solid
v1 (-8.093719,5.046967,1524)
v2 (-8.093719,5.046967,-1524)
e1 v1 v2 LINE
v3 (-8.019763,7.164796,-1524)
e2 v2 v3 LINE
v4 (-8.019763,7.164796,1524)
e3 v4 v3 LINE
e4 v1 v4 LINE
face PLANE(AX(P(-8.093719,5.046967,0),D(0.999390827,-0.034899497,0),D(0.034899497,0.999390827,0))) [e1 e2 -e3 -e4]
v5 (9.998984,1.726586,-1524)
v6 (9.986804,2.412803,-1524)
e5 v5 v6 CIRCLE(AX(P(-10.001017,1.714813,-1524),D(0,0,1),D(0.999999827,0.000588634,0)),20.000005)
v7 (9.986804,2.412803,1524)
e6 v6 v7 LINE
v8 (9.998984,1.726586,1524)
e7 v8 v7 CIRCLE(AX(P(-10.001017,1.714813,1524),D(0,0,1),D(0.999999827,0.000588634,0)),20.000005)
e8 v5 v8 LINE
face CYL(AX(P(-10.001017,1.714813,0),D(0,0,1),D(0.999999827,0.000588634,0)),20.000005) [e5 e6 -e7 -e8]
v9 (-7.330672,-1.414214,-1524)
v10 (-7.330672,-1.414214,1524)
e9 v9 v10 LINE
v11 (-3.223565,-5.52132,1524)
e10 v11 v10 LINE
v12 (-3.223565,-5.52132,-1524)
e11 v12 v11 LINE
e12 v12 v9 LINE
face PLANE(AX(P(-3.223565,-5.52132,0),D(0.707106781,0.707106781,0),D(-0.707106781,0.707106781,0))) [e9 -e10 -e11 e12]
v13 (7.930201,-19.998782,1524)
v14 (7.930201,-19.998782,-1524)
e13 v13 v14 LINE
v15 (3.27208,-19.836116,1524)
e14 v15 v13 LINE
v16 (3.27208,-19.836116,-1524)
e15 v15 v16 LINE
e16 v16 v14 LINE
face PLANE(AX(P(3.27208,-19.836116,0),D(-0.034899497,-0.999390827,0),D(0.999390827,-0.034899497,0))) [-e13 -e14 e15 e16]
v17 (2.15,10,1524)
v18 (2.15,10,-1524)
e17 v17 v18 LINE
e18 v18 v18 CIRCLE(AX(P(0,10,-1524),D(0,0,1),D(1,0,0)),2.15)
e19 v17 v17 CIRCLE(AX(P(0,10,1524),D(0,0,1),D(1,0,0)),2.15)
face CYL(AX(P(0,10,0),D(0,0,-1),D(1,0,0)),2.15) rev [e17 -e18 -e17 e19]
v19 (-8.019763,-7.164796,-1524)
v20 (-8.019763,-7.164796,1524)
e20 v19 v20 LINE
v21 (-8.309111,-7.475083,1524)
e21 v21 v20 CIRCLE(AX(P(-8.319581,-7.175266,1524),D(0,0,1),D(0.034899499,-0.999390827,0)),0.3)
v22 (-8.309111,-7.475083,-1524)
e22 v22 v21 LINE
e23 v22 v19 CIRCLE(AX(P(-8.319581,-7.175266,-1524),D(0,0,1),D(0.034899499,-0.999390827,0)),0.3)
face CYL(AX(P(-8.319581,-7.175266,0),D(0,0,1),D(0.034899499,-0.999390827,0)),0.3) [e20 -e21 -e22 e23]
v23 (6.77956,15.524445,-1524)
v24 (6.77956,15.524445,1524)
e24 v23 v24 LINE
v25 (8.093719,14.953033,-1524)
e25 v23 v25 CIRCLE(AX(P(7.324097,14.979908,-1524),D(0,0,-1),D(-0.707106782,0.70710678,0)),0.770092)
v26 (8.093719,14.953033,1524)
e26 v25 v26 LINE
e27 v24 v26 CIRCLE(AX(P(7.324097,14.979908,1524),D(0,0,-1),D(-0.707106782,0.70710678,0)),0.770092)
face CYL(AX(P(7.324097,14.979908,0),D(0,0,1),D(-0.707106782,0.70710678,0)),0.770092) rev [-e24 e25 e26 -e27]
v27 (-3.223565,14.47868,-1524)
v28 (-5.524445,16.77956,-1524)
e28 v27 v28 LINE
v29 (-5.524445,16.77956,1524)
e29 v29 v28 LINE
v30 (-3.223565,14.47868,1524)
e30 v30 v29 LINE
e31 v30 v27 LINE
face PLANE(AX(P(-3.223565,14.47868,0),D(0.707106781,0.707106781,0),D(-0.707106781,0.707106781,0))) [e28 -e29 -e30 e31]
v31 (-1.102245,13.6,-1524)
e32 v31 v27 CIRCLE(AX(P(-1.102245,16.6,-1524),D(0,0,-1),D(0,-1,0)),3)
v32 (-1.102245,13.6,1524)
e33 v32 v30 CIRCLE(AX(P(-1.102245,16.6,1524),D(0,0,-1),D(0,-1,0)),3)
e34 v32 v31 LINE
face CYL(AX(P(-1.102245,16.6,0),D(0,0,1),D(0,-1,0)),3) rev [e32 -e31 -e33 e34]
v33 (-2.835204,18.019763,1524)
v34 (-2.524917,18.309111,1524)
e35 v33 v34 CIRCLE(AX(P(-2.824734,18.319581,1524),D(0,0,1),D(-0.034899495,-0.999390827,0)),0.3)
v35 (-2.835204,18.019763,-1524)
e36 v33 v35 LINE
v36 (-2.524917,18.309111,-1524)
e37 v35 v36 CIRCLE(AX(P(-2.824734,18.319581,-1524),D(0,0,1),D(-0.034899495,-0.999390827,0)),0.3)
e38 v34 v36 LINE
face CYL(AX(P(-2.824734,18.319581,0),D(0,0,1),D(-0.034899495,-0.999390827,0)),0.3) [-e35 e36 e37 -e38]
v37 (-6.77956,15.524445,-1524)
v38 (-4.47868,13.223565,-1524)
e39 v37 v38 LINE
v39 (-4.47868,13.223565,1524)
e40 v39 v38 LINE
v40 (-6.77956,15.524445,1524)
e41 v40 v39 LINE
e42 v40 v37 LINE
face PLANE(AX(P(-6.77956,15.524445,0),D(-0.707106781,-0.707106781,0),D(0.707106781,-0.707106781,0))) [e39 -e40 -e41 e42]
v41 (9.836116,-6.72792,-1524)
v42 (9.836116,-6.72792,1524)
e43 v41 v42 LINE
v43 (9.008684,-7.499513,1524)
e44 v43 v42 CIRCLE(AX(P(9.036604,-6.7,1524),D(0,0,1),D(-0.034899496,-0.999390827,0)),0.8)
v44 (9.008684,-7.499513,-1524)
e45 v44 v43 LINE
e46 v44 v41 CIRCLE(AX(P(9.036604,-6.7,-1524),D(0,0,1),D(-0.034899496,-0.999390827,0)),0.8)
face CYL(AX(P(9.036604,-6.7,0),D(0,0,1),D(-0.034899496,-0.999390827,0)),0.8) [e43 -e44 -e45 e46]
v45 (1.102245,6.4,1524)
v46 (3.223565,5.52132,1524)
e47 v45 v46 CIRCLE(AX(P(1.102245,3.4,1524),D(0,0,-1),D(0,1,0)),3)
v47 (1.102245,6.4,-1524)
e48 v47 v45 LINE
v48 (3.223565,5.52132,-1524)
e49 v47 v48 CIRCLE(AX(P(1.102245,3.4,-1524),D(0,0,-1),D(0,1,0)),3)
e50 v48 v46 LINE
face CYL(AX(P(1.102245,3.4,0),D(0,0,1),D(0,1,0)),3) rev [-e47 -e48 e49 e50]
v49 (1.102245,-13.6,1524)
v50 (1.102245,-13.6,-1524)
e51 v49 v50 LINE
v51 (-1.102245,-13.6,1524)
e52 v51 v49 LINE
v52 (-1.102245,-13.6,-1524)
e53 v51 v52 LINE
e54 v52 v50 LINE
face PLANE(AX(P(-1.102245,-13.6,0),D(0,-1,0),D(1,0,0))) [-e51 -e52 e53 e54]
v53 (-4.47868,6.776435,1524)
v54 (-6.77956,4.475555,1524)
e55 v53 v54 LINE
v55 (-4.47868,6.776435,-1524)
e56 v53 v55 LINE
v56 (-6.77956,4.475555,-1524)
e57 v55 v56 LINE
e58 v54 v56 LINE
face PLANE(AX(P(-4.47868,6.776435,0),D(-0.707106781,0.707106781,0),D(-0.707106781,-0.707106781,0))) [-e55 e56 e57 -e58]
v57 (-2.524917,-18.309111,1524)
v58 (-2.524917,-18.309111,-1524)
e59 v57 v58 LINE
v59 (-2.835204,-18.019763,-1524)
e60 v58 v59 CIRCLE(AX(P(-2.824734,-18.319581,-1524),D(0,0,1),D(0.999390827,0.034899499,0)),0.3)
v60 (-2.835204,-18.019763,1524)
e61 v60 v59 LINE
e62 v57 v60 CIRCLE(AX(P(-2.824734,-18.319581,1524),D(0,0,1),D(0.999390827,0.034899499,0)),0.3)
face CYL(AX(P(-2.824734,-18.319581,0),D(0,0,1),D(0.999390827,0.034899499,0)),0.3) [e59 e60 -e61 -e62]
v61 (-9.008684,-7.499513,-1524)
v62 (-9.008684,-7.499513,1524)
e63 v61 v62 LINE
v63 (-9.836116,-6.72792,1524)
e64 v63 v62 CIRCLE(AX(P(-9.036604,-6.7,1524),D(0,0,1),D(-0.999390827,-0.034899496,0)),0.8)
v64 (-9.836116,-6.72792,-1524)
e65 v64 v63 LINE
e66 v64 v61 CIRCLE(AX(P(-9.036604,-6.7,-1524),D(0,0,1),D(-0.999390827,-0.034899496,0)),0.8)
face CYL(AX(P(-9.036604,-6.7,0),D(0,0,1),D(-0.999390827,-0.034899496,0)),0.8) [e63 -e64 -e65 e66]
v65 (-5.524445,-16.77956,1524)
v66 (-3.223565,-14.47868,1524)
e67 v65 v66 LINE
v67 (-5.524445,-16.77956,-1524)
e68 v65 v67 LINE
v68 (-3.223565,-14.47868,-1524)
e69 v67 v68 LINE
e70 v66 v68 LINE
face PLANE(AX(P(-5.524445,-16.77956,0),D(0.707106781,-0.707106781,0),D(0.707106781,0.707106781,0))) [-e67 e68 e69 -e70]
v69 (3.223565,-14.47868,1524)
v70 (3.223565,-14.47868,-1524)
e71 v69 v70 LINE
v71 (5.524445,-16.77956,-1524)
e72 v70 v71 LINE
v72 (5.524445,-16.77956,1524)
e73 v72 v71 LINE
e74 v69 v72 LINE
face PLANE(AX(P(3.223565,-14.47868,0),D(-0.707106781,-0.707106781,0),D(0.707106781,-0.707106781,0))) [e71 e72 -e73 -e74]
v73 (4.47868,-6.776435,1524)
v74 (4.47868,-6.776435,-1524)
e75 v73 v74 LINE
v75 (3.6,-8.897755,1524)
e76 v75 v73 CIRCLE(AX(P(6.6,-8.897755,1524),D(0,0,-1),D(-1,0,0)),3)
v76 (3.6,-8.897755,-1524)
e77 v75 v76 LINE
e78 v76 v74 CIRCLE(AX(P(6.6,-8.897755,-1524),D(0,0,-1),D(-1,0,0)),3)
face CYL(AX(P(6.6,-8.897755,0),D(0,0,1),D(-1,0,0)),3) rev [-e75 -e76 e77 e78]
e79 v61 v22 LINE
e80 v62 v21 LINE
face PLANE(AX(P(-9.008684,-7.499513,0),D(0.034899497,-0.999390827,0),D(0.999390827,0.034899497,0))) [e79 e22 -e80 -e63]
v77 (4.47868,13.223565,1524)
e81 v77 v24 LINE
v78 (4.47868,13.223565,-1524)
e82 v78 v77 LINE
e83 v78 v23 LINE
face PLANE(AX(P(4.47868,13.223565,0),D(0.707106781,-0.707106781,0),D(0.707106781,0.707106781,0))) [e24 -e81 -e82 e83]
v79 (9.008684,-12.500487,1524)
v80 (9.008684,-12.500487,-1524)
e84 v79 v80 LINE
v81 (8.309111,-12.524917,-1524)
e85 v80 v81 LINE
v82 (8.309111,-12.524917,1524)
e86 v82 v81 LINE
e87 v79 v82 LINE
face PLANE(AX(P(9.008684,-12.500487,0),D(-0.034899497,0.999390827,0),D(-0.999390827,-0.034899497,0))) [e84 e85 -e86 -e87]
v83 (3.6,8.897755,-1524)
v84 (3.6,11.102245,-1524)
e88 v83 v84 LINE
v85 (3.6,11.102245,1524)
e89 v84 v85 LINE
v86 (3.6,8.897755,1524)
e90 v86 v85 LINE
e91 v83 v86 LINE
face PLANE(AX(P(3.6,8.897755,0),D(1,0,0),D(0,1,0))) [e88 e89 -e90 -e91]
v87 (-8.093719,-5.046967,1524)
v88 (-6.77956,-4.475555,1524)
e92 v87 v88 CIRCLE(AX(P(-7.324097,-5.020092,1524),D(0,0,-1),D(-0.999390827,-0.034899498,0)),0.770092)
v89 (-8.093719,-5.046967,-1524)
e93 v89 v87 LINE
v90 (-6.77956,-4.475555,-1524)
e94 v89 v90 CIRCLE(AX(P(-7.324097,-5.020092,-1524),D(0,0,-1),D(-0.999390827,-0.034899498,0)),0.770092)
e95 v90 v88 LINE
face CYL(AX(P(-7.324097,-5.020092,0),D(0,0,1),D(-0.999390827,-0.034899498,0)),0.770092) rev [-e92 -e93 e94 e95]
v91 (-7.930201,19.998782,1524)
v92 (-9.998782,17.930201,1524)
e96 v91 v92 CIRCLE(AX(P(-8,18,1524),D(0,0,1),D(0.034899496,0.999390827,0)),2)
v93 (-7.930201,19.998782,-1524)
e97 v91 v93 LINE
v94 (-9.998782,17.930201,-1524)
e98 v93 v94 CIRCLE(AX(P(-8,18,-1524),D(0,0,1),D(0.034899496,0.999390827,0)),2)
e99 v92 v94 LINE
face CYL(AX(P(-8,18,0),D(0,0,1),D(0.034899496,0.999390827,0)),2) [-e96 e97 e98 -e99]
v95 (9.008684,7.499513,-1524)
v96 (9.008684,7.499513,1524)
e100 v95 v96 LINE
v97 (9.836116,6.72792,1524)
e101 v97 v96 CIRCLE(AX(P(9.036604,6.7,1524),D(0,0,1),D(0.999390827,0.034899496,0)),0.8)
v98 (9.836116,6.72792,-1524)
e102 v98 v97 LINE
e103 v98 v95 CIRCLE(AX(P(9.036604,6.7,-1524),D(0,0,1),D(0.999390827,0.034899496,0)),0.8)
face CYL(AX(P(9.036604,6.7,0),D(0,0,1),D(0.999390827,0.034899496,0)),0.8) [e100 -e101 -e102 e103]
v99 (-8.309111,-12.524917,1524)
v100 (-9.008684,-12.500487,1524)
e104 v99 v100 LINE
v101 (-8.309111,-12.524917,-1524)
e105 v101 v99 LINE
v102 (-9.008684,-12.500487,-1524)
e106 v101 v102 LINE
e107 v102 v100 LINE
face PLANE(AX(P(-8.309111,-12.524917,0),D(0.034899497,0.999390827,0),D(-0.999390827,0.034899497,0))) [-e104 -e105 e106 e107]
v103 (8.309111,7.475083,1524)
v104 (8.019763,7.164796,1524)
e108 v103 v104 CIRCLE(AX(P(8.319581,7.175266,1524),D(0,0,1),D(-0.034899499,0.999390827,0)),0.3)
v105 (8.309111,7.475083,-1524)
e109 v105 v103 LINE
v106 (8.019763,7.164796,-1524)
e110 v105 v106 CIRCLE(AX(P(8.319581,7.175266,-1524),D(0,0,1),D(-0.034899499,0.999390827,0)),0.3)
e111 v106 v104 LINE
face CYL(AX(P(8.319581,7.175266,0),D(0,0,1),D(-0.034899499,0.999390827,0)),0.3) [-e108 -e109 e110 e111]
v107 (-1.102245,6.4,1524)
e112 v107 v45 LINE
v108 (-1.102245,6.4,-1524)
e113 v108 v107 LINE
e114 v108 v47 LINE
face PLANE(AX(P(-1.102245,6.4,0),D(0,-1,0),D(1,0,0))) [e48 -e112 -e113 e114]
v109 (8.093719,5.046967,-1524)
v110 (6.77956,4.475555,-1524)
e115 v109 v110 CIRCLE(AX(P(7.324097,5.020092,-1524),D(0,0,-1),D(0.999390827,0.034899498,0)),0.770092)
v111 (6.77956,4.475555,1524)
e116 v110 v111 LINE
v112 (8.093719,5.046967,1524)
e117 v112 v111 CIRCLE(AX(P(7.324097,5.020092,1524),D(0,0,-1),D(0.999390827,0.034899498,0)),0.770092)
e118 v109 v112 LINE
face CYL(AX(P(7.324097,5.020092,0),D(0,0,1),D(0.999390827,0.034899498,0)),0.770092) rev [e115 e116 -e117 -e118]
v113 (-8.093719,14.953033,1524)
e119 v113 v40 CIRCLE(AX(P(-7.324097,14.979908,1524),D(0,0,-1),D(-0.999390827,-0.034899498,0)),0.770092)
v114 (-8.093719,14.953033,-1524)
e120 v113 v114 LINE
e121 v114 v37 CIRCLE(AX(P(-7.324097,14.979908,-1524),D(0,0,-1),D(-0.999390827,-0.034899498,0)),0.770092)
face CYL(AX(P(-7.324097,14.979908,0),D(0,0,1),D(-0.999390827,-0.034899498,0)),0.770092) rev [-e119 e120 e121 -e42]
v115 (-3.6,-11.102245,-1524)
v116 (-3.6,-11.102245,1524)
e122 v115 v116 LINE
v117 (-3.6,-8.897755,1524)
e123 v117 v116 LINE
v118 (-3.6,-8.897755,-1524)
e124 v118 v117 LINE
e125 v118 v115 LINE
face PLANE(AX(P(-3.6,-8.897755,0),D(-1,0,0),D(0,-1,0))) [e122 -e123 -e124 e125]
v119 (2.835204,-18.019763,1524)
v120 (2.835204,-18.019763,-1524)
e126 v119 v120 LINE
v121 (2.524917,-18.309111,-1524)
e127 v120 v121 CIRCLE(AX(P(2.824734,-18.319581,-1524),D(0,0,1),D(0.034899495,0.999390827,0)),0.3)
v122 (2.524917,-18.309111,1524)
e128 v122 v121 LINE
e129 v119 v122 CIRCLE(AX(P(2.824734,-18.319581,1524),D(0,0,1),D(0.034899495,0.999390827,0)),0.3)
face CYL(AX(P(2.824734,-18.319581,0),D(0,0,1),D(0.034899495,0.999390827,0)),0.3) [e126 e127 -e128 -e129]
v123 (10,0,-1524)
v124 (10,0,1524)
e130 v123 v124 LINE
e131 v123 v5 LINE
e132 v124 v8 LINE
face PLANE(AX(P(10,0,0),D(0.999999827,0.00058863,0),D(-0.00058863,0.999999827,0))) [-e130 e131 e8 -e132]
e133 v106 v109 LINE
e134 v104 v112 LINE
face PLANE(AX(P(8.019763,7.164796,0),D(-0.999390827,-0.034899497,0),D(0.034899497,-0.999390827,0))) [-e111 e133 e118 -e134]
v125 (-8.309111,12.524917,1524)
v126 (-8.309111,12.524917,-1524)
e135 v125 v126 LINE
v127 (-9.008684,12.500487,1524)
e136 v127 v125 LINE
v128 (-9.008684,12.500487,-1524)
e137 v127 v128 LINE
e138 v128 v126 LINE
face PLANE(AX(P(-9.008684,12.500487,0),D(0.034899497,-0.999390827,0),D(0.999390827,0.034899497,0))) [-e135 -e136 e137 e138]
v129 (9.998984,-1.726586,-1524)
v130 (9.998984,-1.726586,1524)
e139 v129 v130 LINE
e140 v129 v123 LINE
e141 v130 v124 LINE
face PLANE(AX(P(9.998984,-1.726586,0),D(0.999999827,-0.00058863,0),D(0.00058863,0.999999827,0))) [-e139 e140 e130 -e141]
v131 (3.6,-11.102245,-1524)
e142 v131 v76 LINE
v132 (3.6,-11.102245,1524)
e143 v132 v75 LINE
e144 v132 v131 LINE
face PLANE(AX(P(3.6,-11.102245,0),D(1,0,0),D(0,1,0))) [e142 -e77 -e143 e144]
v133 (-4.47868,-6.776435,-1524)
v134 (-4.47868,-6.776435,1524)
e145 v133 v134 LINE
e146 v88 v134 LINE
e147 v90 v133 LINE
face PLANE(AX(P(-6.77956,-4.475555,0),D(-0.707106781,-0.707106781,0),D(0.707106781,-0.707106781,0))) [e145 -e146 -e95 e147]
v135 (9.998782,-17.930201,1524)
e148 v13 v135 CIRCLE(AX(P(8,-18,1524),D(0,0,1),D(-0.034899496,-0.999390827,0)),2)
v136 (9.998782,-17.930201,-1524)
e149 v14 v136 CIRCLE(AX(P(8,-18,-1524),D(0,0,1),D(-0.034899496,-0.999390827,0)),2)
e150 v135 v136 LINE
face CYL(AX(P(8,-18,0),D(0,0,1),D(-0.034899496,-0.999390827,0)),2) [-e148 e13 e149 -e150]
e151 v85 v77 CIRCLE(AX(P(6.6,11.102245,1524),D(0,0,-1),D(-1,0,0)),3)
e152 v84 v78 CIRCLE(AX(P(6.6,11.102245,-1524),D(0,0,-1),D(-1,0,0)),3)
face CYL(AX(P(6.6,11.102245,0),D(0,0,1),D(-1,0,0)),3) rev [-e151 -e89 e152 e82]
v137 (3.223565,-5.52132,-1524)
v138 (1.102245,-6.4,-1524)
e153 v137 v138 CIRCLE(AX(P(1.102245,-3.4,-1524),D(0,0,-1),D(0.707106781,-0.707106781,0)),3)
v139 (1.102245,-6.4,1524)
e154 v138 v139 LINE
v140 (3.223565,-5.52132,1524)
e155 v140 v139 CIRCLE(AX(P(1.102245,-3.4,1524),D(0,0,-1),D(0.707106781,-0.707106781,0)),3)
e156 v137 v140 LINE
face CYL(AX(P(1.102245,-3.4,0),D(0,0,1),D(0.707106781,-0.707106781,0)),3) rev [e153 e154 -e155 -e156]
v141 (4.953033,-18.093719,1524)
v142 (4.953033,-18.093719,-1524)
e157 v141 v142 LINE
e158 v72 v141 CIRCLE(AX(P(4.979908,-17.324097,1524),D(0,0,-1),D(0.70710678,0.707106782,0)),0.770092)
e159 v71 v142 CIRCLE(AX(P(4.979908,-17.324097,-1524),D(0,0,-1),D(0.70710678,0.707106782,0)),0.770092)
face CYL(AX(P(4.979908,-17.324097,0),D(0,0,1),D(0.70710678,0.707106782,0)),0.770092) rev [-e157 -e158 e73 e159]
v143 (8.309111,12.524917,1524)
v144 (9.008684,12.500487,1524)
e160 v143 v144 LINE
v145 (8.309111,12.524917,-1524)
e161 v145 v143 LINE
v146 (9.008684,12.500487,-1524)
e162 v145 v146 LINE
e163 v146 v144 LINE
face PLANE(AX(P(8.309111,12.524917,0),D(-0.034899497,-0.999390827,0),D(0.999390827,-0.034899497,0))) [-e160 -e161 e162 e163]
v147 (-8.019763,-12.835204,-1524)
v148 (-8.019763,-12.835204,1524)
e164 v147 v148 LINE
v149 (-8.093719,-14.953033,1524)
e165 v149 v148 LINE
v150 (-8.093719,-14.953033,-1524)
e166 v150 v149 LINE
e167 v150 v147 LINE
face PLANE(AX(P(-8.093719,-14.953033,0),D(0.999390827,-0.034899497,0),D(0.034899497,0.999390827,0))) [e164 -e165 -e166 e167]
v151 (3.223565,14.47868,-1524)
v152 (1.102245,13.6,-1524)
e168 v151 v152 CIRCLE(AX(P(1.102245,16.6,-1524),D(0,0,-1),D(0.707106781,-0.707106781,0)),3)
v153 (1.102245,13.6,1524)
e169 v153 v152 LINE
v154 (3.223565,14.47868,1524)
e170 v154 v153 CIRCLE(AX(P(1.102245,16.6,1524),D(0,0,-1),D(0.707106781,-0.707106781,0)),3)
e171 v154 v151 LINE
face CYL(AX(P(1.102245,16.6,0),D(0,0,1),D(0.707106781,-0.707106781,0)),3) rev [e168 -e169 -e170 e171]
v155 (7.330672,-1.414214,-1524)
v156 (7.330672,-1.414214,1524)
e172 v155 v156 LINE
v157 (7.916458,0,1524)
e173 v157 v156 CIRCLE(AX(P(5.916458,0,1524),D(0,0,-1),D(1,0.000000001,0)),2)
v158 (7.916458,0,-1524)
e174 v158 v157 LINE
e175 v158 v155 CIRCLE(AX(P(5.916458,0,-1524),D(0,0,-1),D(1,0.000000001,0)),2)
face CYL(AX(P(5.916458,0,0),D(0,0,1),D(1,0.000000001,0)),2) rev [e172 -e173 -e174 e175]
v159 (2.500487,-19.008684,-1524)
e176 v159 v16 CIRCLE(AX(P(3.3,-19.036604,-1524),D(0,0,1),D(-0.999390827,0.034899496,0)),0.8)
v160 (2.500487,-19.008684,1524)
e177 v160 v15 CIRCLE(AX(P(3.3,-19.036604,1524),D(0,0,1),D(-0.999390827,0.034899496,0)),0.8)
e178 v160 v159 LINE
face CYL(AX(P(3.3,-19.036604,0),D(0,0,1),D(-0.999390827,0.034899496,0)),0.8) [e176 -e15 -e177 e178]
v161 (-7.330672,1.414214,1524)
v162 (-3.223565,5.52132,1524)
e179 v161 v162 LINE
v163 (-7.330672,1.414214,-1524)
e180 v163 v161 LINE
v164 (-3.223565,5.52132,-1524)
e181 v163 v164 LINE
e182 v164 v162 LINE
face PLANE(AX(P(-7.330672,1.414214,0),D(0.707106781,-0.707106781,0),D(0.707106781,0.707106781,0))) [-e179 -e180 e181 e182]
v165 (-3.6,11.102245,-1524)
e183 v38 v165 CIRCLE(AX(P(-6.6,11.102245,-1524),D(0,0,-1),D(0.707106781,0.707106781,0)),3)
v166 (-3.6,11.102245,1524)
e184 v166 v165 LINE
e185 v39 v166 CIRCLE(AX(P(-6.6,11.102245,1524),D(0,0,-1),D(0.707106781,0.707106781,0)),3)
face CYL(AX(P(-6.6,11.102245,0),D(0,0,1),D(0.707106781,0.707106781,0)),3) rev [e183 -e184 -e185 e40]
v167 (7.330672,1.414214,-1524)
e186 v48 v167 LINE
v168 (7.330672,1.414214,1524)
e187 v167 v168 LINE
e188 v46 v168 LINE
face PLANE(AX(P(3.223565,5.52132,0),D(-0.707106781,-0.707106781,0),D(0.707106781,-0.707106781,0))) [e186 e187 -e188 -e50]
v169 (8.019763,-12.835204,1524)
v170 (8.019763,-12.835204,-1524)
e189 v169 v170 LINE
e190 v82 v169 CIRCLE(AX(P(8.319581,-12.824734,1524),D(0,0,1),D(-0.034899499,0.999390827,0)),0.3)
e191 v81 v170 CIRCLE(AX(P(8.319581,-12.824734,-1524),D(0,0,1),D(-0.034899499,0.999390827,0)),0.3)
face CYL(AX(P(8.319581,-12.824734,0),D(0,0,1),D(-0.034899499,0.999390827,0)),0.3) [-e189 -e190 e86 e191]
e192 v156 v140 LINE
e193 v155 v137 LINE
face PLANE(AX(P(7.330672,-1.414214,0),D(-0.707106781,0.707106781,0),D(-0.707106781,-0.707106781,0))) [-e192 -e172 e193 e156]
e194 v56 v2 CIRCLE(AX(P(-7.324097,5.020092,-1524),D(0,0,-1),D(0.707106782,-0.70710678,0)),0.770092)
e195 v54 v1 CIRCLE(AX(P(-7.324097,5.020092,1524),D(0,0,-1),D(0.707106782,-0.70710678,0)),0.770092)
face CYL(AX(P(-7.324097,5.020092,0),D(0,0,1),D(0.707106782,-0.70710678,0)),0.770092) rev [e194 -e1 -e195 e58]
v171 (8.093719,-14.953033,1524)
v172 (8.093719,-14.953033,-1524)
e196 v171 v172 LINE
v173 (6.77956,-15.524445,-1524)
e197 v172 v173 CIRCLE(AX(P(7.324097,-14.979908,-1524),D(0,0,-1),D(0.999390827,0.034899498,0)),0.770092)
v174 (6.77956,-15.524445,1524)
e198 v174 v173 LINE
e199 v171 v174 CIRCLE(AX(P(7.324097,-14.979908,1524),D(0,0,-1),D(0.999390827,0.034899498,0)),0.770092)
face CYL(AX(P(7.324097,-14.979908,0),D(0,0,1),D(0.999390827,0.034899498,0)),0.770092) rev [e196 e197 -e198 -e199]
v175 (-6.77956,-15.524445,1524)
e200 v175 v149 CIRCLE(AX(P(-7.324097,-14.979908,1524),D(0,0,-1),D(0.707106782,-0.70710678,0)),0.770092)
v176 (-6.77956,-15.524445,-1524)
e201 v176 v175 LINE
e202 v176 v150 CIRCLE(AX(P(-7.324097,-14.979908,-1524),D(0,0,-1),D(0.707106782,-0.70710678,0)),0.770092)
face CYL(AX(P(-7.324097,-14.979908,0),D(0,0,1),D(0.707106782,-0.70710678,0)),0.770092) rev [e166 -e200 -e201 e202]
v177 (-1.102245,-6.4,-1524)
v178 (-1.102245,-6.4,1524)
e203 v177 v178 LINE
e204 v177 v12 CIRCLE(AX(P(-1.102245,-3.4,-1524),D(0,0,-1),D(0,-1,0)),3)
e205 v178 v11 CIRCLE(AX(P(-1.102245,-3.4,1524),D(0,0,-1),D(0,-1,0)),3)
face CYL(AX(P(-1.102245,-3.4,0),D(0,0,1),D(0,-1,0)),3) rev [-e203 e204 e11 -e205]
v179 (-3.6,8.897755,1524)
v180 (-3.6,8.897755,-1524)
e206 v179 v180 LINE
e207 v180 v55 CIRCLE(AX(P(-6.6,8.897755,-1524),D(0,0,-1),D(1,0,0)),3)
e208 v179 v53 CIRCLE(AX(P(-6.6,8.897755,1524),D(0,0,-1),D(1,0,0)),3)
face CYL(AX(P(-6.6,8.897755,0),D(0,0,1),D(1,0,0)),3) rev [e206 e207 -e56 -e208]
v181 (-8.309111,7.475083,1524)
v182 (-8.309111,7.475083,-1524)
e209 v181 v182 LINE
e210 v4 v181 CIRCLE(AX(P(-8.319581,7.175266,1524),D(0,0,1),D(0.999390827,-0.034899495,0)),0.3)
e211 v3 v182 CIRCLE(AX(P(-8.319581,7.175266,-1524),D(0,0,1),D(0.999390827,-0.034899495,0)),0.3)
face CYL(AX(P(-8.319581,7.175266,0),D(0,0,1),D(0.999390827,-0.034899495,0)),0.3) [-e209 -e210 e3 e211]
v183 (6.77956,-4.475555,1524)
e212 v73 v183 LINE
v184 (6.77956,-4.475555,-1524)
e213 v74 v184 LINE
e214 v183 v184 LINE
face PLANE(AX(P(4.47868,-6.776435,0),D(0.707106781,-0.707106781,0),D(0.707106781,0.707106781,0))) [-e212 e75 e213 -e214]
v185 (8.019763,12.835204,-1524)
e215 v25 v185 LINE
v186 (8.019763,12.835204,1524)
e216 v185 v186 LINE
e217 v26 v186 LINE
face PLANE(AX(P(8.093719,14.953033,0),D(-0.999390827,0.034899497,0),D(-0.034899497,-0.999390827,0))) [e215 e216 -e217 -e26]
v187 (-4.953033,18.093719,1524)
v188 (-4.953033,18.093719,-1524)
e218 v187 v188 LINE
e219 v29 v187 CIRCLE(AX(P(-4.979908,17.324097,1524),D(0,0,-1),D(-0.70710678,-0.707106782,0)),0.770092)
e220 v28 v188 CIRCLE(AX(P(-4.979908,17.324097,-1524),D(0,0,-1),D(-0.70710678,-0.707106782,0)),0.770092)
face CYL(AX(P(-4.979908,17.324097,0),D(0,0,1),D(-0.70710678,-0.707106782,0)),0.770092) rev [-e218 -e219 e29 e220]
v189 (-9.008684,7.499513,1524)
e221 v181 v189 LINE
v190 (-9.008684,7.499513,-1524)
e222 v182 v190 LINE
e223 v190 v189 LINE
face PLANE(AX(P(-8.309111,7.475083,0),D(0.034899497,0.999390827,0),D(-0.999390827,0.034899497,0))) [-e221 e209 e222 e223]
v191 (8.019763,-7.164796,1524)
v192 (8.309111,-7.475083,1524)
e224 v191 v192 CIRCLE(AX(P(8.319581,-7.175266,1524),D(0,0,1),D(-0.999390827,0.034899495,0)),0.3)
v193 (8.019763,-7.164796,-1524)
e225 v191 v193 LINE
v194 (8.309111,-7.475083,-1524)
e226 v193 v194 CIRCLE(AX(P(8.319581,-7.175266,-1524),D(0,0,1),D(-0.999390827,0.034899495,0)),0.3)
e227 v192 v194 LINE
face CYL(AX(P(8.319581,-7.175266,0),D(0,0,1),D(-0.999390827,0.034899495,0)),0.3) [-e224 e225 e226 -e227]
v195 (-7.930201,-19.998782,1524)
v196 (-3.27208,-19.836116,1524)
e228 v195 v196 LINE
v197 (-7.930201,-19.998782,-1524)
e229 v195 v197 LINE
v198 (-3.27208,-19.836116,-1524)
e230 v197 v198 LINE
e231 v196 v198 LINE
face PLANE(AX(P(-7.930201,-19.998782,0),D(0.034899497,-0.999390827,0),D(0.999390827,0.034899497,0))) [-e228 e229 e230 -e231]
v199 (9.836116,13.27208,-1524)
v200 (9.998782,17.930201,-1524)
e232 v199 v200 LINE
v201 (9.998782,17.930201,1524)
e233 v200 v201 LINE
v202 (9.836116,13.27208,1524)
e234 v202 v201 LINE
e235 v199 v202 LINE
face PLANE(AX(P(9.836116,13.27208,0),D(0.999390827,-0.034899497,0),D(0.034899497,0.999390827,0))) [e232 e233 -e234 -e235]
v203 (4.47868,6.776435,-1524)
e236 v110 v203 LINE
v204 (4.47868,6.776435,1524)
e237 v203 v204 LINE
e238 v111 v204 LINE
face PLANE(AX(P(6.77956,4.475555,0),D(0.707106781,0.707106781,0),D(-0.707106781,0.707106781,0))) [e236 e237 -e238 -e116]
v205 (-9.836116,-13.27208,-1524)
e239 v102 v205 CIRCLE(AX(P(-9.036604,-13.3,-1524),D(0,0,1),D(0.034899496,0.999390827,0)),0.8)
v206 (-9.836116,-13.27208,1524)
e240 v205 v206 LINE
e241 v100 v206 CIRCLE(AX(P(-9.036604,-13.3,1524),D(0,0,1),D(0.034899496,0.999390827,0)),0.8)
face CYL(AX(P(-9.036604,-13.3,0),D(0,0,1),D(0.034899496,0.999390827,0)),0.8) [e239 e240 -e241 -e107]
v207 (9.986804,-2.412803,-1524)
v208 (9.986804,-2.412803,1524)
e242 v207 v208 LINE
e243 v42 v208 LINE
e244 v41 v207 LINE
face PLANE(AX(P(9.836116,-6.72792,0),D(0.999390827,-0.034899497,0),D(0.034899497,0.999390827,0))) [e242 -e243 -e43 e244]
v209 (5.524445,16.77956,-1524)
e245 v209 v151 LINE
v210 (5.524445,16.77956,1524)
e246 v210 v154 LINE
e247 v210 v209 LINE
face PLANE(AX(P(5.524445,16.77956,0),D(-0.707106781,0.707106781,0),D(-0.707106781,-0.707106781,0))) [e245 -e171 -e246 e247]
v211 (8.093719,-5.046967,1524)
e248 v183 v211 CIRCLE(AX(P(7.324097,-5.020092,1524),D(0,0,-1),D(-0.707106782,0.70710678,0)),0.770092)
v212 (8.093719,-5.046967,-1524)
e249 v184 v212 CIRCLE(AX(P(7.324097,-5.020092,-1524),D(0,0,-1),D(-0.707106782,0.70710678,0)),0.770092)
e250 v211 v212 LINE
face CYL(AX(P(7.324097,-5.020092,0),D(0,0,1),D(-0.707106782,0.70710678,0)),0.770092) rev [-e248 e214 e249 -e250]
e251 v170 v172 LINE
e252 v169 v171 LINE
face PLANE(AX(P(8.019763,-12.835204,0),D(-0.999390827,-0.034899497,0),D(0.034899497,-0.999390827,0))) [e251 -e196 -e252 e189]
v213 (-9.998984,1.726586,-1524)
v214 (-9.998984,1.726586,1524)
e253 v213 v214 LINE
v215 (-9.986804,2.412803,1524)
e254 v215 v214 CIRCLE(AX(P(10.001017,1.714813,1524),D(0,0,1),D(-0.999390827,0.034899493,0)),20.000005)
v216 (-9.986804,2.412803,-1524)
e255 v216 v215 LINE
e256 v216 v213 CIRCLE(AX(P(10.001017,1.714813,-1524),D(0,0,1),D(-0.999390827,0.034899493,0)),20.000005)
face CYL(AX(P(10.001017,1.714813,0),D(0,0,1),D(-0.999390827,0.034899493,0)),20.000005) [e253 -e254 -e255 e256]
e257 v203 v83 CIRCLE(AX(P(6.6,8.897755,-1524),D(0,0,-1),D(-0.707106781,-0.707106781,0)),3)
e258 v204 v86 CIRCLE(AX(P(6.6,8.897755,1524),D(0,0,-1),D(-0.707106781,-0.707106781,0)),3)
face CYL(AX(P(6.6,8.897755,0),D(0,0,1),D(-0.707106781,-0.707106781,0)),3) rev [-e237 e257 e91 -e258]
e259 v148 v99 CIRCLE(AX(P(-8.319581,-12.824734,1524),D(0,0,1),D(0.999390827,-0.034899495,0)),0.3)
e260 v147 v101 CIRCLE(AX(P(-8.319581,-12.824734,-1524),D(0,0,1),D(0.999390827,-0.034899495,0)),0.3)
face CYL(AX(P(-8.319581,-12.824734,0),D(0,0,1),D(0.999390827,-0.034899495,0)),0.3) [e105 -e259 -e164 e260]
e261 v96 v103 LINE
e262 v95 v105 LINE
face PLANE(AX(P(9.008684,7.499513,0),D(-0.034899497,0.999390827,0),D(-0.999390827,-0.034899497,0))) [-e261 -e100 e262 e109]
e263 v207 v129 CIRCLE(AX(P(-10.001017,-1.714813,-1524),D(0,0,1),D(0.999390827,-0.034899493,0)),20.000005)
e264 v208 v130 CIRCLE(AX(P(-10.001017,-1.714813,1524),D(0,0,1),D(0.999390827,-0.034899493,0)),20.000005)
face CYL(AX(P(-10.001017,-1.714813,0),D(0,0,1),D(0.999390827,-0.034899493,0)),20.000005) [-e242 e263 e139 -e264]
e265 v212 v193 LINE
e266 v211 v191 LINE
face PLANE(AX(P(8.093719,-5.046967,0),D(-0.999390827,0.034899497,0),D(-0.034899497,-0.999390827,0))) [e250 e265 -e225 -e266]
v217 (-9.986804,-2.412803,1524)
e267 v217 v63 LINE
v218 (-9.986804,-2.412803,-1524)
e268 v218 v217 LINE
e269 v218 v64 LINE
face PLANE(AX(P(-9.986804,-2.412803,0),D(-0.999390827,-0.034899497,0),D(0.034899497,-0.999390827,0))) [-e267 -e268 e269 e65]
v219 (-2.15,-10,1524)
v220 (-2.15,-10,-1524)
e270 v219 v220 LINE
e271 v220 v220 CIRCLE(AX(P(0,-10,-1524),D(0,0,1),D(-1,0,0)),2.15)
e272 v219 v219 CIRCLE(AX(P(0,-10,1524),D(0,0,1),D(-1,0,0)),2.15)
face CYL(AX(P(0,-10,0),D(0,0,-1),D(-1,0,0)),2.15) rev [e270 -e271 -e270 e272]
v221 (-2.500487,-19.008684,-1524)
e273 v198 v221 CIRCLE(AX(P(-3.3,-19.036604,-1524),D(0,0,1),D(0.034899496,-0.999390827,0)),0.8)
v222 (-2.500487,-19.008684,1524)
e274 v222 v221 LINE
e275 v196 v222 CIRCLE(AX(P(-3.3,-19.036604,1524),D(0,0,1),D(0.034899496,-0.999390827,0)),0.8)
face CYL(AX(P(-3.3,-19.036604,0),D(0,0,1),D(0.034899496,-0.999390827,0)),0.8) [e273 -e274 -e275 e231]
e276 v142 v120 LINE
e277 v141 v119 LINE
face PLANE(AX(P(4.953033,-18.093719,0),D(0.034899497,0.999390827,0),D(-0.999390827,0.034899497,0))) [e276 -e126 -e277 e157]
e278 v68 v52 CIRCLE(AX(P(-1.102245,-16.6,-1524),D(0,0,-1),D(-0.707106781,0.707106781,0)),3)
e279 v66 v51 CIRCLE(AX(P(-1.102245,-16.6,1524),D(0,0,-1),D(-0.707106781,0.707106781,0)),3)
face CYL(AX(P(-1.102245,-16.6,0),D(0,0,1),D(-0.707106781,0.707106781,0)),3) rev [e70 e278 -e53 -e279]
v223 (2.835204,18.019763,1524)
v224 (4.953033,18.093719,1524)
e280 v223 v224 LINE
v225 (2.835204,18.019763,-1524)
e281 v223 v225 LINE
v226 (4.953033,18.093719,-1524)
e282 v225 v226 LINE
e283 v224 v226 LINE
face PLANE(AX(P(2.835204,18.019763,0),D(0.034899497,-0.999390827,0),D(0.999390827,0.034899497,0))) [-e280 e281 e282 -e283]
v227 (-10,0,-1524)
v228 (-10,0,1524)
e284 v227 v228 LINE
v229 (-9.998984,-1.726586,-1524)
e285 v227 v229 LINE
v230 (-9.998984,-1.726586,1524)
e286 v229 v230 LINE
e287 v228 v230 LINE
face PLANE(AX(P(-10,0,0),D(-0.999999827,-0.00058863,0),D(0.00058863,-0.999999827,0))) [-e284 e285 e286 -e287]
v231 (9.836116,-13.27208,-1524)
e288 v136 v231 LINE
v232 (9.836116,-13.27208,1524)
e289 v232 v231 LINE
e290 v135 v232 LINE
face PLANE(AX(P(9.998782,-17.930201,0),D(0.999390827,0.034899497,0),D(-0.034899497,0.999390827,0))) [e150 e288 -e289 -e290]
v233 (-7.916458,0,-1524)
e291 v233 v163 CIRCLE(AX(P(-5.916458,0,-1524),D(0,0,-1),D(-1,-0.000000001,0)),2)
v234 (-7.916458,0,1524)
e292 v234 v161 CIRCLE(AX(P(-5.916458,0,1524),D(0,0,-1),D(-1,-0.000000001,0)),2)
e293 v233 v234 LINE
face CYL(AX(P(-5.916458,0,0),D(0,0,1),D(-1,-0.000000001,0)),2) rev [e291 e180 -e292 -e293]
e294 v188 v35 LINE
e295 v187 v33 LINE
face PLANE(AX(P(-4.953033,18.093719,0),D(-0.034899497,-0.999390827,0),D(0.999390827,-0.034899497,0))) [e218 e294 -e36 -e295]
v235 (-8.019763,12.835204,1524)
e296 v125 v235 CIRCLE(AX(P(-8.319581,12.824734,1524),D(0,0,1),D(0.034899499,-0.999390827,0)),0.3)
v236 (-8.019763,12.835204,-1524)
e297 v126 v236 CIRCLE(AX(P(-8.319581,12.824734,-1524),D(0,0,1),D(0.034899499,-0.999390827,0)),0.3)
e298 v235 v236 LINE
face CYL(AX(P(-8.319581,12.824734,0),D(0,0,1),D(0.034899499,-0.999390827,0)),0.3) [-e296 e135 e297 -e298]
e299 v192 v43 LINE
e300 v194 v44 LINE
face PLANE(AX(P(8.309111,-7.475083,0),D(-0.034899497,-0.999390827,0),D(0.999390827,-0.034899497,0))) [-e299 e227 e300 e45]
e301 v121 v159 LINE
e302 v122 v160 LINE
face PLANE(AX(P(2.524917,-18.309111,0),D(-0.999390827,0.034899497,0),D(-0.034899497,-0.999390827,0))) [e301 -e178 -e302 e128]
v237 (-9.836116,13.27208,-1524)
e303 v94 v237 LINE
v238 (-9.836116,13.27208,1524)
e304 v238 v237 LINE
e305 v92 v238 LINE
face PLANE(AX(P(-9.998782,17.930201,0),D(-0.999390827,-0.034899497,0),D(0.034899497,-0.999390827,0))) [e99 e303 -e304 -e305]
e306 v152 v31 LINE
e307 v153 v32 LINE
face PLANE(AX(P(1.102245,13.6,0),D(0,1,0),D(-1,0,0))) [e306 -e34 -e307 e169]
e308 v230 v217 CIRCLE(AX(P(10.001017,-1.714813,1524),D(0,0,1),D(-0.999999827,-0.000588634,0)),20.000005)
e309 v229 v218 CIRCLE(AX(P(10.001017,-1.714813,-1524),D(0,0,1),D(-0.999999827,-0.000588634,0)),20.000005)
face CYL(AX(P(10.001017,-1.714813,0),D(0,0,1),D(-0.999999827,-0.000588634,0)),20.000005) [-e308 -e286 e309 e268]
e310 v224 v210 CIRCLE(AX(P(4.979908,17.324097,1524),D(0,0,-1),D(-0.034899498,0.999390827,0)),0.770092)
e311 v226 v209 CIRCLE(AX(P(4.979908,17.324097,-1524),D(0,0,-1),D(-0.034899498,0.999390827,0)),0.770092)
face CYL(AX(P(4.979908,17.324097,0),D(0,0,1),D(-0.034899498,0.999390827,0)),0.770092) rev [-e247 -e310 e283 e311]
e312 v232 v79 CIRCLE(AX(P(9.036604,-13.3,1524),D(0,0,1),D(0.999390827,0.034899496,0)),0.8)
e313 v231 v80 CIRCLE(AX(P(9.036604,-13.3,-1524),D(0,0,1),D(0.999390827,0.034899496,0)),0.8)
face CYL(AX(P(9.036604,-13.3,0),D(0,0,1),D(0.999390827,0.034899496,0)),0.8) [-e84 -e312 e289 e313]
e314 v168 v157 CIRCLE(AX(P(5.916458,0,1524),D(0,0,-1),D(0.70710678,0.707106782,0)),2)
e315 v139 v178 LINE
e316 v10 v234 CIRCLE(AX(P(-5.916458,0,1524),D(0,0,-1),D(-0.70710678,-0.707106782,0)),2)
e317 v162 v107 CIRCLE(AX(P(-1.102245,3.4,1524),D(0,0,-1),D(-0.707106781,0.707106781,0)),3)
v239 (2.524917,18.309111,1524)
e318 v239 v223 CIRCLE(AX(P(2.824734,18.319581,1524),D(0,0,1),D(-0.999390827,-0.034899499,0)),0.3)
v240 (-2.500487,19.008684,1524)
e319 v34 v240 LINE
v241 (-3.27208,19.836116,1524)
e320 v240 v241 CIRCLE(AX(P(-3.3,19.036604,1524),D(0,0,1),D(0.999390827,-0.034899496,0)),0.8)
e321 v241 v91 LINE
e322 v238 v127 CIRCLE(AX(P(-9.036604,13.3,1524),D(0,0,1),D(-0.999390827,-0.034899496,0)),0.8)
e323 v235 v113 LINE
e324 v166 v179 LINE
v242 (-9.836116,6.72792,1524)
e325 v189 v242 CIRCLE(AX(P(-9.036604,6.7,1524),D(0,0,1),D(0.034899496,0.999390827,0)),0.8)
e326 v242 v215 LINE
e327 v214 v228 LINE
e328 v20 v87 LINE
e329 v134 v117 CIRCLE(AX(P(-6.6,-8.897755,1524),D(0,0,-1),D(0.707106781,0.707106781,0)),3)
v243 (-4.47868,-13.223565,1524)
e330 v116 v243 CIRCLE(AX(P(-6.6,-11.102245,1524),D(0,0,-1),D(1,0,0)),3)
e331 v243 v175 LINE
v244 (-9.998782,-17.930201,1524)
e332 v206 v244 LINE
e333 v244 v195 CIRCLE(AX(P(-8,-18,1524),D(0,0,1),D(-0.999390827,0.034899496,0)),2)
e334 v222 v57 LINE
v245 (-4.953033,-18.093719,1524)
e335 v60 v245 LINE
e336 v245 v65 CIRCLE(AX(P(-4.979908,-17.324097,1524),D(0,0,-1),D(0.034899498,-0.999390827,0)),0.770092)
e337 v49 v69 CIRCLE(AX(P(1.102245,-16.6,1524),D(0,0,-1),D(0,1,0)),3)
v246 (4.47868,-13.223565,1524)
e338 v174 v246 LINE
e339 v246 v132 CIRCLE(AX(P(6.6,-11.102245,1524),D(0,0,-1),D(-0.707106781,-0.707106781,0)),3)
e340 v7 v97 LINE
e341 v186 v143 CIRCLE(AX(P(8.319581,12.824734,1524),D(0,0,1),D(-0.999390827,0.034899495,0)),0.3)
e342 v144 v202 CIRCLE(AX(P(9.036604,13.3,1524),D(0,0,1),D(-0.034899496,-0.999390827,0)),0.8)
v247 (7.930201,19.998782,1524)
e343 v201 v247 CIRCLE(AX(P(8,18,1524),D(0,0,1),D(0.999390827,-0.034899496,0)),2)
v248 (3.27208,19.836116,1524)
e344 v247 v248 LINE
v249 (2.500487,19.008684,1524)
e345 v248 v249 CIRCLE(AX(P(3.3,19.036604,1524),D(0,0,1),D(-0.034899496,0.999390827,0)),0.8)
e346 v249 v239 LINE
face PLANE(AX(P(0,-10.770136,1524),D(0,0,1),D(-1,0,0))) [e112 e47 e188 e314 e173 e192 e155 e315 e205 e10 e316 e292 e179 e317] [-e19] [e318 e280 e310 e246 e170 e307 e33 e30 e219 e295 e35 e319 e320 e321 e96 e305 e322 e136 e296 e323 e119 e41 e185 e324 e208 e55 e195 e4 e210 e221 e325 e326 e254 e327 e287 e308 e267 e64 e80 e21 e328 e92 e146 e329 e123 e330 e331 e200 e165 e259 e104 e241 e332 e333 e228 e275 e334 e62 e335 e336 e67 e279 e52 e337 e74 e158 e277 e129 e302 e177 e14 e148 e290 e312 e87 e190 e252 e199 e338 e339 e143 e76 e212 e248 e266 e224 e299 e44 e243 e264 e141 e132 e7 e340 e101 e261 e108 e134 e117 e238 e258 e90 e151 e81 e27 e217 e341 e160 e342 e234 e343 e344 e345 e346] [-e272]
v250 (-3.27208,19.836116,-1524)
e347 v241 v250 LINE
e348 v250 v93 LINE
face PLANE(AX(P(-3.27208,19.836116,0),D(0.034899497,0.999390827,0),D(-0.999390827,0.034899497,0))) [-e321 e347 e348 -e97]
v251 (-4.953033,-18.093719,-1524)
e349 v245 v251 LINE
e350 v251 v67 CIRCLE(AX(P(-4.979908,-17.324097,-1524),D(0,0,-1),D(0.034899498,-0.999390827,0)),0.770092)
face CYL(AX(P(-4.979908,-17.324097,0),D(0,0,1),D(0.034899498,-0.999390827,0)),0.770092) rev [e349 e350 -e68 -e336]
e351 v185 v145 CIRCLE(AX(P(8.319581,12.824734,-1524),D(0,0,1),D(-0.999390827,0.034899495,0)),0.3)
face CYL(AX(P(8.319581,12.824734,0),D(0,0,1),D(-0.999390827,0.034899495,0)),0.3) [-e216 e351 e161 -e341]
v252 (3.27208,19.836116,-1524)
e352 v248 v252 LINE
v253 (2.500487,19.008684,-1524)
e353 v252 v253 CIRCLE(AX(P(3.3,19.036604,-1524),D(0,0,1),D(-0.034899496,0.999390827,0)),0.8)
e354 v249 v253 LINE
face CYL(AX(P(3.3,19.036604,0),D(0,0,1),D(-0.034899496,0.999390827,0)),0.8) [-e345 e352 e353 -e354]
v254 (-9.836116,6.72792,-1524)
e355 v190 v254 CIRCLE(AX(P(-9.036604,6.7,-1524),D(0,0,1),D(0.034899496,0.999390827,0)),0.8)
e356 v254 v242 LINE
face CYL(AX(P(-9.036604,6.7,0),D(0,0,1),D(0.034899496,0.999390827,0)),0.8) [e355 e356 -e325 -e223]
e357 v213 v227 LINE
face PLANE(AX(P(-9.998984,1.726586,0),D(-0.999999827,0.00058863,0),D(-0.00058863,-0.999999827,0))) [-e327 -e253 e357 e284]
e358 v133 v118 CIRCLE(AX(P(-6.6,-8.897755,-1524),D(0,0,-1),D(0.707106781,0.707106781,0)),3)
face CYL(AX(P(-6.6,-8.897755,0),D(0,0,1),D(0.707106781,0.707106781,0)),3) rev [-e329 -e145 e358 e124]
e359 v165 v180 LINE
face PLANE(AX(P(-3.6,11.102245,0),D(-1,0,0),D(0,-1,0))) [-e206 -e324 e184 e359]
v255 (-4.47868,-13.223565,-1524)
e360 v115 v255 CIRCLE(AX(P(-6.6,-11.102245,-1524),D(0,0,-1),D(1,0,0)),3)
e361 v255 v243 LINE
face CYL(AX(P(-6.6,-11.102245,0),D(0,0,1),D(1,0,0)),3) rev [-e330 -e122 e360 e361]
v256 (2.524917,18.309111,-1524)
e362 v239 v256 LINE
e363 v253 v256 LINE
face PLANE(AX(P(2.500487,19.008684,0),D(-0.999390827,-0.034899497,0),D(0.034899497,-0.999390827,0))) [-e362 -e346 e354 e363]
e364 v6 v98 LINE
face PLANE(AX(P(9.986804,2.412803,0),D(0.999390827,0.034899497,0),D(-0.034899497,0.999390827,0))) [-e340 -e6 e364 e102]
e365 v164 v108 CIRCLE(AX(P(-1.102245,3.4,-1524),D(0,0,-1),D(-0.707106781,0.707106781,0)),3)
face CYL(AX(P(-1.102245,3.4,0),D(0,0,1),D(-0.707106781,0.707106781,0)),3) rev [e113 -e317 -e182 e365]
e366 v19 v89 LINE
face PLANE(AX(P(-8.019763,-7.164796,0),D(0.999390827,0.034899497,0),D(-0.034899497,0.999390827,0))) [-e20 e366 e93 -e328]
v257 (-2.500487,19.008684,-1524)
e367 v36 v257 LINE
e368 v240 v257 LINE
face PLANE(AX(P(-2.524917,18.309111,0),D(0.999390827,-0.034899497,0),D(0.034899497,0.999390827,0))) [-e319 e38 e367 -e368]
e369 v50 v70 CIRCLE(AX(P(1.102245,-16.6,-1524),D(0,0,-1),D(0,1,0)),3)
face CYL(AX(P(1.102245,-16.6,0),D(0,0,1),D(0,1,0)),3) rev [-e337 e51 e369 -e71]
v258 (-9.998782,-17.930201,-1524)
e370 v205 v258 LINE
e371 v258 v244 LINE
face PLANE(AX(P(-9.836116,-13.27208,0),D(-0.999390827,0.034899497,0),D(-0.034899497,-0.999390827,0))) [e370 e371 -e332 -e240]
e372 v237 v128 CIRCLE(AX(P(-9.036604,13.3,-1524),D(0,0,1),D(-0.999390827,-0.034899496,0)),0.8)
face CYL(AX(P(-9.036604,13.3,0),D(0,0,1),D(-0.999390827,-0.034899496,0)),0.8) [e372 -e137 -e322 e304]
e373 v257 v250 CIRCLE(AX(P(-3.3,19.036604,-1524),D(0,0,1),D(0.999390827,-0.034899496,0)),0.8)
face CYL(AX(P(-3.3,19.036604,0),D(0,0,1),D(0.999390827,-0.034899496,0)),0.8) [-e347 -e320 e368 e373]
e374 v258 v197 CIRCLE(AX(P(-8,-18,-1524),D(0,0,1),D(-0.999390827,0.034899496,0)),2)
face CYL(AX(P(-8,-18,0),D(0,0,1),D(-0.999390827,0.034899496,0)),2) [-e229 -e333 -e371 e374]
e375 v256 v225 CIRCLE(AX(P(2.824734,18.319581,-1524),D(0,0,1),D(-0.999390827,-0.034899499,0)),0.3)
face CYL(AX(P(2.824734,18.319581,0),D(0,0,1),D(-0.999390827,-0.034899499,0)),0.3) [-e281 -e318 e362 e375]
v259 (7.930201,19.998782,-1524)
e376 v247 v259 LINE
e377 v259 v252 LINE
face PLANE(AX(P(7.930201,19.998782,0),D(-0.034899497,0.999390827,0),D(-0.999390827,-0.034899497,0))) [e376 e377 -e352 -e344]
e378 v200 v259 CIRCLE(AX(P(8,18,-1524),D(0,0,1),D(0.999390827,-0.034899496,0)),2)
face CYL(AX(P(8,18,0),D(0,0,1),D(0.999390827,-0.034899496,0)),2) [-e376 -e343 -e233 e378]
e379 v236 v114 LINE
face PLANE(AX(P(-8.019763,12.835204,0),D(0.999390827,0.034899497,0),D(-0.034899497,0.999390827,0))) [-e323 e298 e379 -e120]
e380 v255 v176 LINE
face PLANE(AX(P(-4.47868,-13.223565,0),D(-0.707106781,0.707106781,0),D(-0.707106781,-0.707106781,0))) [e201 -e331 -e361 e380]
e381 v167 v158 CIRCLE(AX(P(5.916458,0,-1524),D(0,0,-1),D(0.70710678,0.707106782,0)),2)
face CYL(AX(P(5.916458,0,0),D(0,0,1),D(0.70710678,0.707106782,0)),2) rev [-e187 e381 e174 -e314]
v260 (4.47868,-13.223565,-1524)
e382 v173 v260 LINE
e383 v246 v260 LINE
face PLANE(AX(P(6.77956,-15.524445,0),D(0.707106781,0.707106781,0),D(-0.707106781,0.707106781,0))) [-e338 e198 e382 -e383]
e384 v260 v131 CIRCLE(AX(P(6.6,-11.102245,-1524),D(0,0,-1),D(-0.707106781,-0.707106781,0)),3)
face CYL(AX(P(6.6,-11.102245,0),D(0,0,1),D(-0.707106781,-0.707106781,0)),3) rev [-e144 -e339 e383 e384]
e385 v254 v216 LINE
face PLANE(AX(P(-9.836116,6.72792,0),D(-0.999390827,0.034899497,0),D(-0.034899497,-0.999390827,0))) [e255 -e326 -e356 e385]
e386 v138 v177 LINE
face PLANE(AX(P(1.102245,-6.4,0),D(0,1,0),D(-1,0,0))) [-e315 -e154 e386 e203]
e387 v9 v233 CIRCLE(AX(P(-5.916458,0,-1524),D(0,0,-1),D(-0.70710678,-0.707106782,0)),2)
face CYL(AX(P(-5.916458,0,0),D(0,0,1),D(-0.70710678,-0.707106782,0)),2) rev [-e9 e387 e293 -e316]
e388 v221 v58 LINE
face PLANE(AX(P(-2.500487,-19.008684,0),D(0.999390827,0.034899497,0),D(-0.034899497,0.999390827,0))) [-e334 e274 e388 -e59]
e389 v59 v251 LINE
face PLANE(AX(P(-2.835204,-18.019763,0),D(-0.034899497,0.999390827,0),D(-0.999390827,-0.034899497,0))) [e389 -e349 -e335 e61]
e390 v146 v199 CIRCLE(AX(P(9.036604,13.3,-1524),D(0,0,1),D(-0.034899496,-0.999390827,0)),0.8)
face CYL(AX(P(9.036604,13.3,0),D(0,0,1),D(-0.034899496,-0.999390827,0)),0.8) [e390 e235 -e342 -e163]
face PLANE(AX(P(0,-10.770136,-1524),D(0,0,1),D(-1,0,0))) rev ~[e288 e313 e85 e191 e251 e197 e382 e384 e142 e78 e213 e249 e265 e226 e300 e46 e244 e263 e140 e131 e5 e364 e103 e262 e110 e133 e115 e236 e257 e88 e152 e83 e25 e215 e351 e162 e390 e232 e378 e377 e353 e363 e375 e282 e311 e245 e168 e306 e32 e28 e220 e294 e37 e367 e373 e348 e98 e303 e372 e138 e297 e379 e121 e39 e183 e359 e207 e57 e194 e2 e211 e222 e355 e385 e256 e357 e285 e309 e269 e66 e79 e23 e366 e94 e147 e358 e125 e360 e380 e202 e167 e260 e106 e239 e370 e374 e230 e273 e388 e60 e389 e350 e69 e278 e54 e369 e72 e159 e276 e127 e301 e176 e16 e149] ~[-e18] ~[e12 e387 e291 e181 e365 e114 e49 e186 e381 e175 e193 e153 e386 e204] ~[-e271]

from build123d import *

# Parameters (mm, degrees)
SKETCH3_R           = 2.15
BOSS_EXTRUDE1_DEPTH = 1524
CIRPATTERN1_COUNT   = 2


with BuildPart() as part:
    # Sketch3 → Boss-Extrude1 (new, symmetric)
    with BuildSketch(Plane.XY):
        with BuildLine():
            Line((-8.30911066, 7.475083014), (-9.008684239, 7.499512662))
            ThreePointArc((-9.008684239, 7.499512662), (-9.582202525, 7.285082961), (-9.836116498, 6.727919597))
            Line((-9.836116498, 6.727919597), (-9.986803685, 2.412803152))
            ThreePointArc((-9.986803685, 2.412803152), (-9.995837451, 2.069746735), (-9.99898368, 1.726585818))
            Line((-9.99898368, 1.726585818), (-10, 0))
            Line((-10, 0), (-7.916458339, 0))
            ThreePointArc((-7.916458339, 0), (-7.764217404, 0.765366865), (-7.330671901, 1.414213562))
            Line((-7.330671901, 1.414213562), (-3.22356512, 5.521320344))
            ThreePointArc((-3.22356512, 5.521320344), (-2.250295073, 6.171638598), (-1.102244776, 6.4))
            Line((-1.102244776, 6.4), (1.102244776, 6.4))
            ThreePointArc((1.102244776, 6.4), (2.250295073, 6.171638598), (3.22356512, 5.521320344))
            Line((3.22356512, 5.521320344), (7.330671901, 1.414213562))
            ThreePointArc((7.330671901, 1.414213562), (7.764217404, 0.765366865), (7.916458339, 0))
            Line((7.916458339, 0), (10, 0))
            Line((10, 0), (9.99898368, 1.726585818))
            ThreePointArc((9.99898368, 1.726585818), (9.995837451, 2.069746735), (9.986803685, 2.412803152))
            Line((9.986803685, 2.412803152), (9.836116498, 6.727919597))
            ThreePointArc((9.836116498, 6.727919597), (9.582202525, 7.285082961), (9.008684239, 7.499512662))
            Line((9.008684239, 7.499512662), (8.30911066, 7.475083014))
            ThreePointArc((8.30911066, 7.475083014), (8.100174399, 7.379865274), (8.019763261, 7.164795917))
            Line((8.019763261, 7.164795917), (8.093719461, 5.046967452))
            ThreePointArc((8.093719461, 5.046967452), (7.631170264, 4.313871343), (6.779559917, 4.47555462))
            Line((6.779559917, 4.47555462), (4.478679656, 6.77643488))
            ThreePointArc((4.478679656, 6.77643488), (3.828361402, 7.749704927), (3.6, 8.897755224))
            Line((3.6, 8.897755224), (3.6, 11.102244776))
            ThreePointArc((3.6, 11.102244776), (3.828361402, 12.250295073), (4.478679656, 13.22356512))
            Line((4.478679656, 13.22356512), (6.779559917, 15.52444538))
            ThreePointArc((6.779559917, 15.52444538), (7.631170264, 15.686128657), (8.093719461, 14.953032548))
            Line((8.093719461, 14.953032548), (8.019763261, 12.835204083))
            ThreePointArc((8.019763261, 12.835204083), (8.100174399, 12.620134726), (8.30911066, 12.524916986))
            Line((8.30911066, 12.524916986), (9.008684239, 12.500487338))
            ThreePointArc((9.008684239, 12.500487338), (9.582202525, 12.714917039), (9.836116498, 13.272080403))
            Line((9.836116498, 13.272080403), (9.998781654, 17.930201007))
            ThreePointArc((9.998781654, 17.930201007), (9.414213562, 19.414213562), (7.930201007, 19.998781654))
            Line((7.930201007, 19.998781654), (3.272080403, 19.836116498))
            ThreePointArc((3.272080403, 19.836116498), (2.714917039, 19.582202525), (2.500487338, 19.008684239))
            Line((2.500487338, 19.008684239), (2.524916986, 18.30911066))
            ThreePointArc((2.524916986, 18.30911066), (2.620134726, 18.100174399), (2.835204083, 18.019763261))
            Line((2.835204083, 18.019763261), (4.953032548, 18.093719461))
            ThreePointArc((4.953032548, 18.093719461), (5.686128657, 17.631170264), (5.52444538, 16.779559917))
            Line((5.52444538, 16.779559917), (3.22356512, 14.478679656))
            ThreePointArc((3.22356512, 14.478679656), (2.250295073, 13.828361402), (1.102244776, 13.6))
            Line((1.102244776, 13.6), (-1.102244776, 13.6))
            ThreePointArc((-1.102244776, 13.6), (-2.250295073, 13.828361402), (-3.22356512, 14.478679656))
            Line((-3.22356512, 14.478679656), (-5.52444538, 16.779559917))
            ThreePointArc((-5.52444538, 16.779559917), (-5.686128657, 17.631170264), (-4.953032548, 18.093719461))
            Line((-4.953032548, 18.093719461), (-2.835204083, 18.019763261))
            ThreePointArc((-2.835204083, 18.019763261), (-2.620134726, 18.100174399), (-2.524916986, 18.30911066))
            Line((-2.524916986, 18.30911066), (-2.500487338, 19.008684239))
            ThreePointArc((-2.500487338, 19.008684239), (-2.714917039, 19.582202525), (-3.272080403, 19.836116498))
            Line((-3.272080403, 19.836116498), (-7.930201007, 19.998781654))
            ThreePointArc((-7.930201007, 19.998781654), (-9.414213562, 19.414213562), (-9.998781654, 17.930201007))
            Line((-9.998781654, 17.930201007), (-9.836116498, 13.272080403))
            ThreePointArc((-9.836116498, 13.272080403), (-9.582202525, 12.714917039), (-9.008684239, 12.500487338))
            Line((-9.008684239, 12.500487338), (-8.30911066, 12.524916986))
            ThreePointArc((-8.30911066, 12.524916986), (-8.100174399, 12.620134726), (-8.019763261, 12.835204083))
            Line((-8.019763261, 12.835204083), (-8.093719461, 14.953032548))
            ThreePointArc((-8.093719461, 14.953032548), (-7.631170264, 15.686128657), (-6.779559917, 15.52444538))
            Line((-6.779559917, 15.52444538), (-4.478679656, 13.22356512))
            ThreePointArc((-4.478679656, 13.22356512), (-3.828361402, 12.250295073), (-3.6, 11.102244776))
            Line((-3.6, 11.102244776), (-3.6, 8.897755224))
            ThreePointArc((-3.6, 8.897755224), (-3.828361402, 7.749704927), (-4.478679656, 6.77643488))
            Line((-4.478679656, 6.77643488), (-6.779559917, 4.47555462))
            ThreePointArc((-6.779559917, 4.47555462), (-7.631170264, 4.313871343), (-8.093719461, 5.046967452))
            Line((-8.093719461, 5.046967452), (-8.019763261, 7.164795917))
            ThreePointArc((-8.019763261, 7.164795917), (-8.100174399, 7.379865274), (-8.30911066, 7.475083014))
        make_face()
        with Locations((0, 10)):
            Circle(SKETCH3_R, mode=Mode.SUBTRACT)
    boss_extrude1 = extrude(amount=BOSS_EXTRUDE1_DEPTH, both=True)

    # CirPattern1: Boss-Extrude1 ×2 about axis
    cirpattern1_axis = Axis((0, 0, 0), (0, 0, 1))
    for i in range(1, CIRPATTERN1_COUNT):
        add(boss_extrude1.rotate(cirpattern1_axis, i * 360 / CIRPATTERN1_COUNT))


solid = part.part
